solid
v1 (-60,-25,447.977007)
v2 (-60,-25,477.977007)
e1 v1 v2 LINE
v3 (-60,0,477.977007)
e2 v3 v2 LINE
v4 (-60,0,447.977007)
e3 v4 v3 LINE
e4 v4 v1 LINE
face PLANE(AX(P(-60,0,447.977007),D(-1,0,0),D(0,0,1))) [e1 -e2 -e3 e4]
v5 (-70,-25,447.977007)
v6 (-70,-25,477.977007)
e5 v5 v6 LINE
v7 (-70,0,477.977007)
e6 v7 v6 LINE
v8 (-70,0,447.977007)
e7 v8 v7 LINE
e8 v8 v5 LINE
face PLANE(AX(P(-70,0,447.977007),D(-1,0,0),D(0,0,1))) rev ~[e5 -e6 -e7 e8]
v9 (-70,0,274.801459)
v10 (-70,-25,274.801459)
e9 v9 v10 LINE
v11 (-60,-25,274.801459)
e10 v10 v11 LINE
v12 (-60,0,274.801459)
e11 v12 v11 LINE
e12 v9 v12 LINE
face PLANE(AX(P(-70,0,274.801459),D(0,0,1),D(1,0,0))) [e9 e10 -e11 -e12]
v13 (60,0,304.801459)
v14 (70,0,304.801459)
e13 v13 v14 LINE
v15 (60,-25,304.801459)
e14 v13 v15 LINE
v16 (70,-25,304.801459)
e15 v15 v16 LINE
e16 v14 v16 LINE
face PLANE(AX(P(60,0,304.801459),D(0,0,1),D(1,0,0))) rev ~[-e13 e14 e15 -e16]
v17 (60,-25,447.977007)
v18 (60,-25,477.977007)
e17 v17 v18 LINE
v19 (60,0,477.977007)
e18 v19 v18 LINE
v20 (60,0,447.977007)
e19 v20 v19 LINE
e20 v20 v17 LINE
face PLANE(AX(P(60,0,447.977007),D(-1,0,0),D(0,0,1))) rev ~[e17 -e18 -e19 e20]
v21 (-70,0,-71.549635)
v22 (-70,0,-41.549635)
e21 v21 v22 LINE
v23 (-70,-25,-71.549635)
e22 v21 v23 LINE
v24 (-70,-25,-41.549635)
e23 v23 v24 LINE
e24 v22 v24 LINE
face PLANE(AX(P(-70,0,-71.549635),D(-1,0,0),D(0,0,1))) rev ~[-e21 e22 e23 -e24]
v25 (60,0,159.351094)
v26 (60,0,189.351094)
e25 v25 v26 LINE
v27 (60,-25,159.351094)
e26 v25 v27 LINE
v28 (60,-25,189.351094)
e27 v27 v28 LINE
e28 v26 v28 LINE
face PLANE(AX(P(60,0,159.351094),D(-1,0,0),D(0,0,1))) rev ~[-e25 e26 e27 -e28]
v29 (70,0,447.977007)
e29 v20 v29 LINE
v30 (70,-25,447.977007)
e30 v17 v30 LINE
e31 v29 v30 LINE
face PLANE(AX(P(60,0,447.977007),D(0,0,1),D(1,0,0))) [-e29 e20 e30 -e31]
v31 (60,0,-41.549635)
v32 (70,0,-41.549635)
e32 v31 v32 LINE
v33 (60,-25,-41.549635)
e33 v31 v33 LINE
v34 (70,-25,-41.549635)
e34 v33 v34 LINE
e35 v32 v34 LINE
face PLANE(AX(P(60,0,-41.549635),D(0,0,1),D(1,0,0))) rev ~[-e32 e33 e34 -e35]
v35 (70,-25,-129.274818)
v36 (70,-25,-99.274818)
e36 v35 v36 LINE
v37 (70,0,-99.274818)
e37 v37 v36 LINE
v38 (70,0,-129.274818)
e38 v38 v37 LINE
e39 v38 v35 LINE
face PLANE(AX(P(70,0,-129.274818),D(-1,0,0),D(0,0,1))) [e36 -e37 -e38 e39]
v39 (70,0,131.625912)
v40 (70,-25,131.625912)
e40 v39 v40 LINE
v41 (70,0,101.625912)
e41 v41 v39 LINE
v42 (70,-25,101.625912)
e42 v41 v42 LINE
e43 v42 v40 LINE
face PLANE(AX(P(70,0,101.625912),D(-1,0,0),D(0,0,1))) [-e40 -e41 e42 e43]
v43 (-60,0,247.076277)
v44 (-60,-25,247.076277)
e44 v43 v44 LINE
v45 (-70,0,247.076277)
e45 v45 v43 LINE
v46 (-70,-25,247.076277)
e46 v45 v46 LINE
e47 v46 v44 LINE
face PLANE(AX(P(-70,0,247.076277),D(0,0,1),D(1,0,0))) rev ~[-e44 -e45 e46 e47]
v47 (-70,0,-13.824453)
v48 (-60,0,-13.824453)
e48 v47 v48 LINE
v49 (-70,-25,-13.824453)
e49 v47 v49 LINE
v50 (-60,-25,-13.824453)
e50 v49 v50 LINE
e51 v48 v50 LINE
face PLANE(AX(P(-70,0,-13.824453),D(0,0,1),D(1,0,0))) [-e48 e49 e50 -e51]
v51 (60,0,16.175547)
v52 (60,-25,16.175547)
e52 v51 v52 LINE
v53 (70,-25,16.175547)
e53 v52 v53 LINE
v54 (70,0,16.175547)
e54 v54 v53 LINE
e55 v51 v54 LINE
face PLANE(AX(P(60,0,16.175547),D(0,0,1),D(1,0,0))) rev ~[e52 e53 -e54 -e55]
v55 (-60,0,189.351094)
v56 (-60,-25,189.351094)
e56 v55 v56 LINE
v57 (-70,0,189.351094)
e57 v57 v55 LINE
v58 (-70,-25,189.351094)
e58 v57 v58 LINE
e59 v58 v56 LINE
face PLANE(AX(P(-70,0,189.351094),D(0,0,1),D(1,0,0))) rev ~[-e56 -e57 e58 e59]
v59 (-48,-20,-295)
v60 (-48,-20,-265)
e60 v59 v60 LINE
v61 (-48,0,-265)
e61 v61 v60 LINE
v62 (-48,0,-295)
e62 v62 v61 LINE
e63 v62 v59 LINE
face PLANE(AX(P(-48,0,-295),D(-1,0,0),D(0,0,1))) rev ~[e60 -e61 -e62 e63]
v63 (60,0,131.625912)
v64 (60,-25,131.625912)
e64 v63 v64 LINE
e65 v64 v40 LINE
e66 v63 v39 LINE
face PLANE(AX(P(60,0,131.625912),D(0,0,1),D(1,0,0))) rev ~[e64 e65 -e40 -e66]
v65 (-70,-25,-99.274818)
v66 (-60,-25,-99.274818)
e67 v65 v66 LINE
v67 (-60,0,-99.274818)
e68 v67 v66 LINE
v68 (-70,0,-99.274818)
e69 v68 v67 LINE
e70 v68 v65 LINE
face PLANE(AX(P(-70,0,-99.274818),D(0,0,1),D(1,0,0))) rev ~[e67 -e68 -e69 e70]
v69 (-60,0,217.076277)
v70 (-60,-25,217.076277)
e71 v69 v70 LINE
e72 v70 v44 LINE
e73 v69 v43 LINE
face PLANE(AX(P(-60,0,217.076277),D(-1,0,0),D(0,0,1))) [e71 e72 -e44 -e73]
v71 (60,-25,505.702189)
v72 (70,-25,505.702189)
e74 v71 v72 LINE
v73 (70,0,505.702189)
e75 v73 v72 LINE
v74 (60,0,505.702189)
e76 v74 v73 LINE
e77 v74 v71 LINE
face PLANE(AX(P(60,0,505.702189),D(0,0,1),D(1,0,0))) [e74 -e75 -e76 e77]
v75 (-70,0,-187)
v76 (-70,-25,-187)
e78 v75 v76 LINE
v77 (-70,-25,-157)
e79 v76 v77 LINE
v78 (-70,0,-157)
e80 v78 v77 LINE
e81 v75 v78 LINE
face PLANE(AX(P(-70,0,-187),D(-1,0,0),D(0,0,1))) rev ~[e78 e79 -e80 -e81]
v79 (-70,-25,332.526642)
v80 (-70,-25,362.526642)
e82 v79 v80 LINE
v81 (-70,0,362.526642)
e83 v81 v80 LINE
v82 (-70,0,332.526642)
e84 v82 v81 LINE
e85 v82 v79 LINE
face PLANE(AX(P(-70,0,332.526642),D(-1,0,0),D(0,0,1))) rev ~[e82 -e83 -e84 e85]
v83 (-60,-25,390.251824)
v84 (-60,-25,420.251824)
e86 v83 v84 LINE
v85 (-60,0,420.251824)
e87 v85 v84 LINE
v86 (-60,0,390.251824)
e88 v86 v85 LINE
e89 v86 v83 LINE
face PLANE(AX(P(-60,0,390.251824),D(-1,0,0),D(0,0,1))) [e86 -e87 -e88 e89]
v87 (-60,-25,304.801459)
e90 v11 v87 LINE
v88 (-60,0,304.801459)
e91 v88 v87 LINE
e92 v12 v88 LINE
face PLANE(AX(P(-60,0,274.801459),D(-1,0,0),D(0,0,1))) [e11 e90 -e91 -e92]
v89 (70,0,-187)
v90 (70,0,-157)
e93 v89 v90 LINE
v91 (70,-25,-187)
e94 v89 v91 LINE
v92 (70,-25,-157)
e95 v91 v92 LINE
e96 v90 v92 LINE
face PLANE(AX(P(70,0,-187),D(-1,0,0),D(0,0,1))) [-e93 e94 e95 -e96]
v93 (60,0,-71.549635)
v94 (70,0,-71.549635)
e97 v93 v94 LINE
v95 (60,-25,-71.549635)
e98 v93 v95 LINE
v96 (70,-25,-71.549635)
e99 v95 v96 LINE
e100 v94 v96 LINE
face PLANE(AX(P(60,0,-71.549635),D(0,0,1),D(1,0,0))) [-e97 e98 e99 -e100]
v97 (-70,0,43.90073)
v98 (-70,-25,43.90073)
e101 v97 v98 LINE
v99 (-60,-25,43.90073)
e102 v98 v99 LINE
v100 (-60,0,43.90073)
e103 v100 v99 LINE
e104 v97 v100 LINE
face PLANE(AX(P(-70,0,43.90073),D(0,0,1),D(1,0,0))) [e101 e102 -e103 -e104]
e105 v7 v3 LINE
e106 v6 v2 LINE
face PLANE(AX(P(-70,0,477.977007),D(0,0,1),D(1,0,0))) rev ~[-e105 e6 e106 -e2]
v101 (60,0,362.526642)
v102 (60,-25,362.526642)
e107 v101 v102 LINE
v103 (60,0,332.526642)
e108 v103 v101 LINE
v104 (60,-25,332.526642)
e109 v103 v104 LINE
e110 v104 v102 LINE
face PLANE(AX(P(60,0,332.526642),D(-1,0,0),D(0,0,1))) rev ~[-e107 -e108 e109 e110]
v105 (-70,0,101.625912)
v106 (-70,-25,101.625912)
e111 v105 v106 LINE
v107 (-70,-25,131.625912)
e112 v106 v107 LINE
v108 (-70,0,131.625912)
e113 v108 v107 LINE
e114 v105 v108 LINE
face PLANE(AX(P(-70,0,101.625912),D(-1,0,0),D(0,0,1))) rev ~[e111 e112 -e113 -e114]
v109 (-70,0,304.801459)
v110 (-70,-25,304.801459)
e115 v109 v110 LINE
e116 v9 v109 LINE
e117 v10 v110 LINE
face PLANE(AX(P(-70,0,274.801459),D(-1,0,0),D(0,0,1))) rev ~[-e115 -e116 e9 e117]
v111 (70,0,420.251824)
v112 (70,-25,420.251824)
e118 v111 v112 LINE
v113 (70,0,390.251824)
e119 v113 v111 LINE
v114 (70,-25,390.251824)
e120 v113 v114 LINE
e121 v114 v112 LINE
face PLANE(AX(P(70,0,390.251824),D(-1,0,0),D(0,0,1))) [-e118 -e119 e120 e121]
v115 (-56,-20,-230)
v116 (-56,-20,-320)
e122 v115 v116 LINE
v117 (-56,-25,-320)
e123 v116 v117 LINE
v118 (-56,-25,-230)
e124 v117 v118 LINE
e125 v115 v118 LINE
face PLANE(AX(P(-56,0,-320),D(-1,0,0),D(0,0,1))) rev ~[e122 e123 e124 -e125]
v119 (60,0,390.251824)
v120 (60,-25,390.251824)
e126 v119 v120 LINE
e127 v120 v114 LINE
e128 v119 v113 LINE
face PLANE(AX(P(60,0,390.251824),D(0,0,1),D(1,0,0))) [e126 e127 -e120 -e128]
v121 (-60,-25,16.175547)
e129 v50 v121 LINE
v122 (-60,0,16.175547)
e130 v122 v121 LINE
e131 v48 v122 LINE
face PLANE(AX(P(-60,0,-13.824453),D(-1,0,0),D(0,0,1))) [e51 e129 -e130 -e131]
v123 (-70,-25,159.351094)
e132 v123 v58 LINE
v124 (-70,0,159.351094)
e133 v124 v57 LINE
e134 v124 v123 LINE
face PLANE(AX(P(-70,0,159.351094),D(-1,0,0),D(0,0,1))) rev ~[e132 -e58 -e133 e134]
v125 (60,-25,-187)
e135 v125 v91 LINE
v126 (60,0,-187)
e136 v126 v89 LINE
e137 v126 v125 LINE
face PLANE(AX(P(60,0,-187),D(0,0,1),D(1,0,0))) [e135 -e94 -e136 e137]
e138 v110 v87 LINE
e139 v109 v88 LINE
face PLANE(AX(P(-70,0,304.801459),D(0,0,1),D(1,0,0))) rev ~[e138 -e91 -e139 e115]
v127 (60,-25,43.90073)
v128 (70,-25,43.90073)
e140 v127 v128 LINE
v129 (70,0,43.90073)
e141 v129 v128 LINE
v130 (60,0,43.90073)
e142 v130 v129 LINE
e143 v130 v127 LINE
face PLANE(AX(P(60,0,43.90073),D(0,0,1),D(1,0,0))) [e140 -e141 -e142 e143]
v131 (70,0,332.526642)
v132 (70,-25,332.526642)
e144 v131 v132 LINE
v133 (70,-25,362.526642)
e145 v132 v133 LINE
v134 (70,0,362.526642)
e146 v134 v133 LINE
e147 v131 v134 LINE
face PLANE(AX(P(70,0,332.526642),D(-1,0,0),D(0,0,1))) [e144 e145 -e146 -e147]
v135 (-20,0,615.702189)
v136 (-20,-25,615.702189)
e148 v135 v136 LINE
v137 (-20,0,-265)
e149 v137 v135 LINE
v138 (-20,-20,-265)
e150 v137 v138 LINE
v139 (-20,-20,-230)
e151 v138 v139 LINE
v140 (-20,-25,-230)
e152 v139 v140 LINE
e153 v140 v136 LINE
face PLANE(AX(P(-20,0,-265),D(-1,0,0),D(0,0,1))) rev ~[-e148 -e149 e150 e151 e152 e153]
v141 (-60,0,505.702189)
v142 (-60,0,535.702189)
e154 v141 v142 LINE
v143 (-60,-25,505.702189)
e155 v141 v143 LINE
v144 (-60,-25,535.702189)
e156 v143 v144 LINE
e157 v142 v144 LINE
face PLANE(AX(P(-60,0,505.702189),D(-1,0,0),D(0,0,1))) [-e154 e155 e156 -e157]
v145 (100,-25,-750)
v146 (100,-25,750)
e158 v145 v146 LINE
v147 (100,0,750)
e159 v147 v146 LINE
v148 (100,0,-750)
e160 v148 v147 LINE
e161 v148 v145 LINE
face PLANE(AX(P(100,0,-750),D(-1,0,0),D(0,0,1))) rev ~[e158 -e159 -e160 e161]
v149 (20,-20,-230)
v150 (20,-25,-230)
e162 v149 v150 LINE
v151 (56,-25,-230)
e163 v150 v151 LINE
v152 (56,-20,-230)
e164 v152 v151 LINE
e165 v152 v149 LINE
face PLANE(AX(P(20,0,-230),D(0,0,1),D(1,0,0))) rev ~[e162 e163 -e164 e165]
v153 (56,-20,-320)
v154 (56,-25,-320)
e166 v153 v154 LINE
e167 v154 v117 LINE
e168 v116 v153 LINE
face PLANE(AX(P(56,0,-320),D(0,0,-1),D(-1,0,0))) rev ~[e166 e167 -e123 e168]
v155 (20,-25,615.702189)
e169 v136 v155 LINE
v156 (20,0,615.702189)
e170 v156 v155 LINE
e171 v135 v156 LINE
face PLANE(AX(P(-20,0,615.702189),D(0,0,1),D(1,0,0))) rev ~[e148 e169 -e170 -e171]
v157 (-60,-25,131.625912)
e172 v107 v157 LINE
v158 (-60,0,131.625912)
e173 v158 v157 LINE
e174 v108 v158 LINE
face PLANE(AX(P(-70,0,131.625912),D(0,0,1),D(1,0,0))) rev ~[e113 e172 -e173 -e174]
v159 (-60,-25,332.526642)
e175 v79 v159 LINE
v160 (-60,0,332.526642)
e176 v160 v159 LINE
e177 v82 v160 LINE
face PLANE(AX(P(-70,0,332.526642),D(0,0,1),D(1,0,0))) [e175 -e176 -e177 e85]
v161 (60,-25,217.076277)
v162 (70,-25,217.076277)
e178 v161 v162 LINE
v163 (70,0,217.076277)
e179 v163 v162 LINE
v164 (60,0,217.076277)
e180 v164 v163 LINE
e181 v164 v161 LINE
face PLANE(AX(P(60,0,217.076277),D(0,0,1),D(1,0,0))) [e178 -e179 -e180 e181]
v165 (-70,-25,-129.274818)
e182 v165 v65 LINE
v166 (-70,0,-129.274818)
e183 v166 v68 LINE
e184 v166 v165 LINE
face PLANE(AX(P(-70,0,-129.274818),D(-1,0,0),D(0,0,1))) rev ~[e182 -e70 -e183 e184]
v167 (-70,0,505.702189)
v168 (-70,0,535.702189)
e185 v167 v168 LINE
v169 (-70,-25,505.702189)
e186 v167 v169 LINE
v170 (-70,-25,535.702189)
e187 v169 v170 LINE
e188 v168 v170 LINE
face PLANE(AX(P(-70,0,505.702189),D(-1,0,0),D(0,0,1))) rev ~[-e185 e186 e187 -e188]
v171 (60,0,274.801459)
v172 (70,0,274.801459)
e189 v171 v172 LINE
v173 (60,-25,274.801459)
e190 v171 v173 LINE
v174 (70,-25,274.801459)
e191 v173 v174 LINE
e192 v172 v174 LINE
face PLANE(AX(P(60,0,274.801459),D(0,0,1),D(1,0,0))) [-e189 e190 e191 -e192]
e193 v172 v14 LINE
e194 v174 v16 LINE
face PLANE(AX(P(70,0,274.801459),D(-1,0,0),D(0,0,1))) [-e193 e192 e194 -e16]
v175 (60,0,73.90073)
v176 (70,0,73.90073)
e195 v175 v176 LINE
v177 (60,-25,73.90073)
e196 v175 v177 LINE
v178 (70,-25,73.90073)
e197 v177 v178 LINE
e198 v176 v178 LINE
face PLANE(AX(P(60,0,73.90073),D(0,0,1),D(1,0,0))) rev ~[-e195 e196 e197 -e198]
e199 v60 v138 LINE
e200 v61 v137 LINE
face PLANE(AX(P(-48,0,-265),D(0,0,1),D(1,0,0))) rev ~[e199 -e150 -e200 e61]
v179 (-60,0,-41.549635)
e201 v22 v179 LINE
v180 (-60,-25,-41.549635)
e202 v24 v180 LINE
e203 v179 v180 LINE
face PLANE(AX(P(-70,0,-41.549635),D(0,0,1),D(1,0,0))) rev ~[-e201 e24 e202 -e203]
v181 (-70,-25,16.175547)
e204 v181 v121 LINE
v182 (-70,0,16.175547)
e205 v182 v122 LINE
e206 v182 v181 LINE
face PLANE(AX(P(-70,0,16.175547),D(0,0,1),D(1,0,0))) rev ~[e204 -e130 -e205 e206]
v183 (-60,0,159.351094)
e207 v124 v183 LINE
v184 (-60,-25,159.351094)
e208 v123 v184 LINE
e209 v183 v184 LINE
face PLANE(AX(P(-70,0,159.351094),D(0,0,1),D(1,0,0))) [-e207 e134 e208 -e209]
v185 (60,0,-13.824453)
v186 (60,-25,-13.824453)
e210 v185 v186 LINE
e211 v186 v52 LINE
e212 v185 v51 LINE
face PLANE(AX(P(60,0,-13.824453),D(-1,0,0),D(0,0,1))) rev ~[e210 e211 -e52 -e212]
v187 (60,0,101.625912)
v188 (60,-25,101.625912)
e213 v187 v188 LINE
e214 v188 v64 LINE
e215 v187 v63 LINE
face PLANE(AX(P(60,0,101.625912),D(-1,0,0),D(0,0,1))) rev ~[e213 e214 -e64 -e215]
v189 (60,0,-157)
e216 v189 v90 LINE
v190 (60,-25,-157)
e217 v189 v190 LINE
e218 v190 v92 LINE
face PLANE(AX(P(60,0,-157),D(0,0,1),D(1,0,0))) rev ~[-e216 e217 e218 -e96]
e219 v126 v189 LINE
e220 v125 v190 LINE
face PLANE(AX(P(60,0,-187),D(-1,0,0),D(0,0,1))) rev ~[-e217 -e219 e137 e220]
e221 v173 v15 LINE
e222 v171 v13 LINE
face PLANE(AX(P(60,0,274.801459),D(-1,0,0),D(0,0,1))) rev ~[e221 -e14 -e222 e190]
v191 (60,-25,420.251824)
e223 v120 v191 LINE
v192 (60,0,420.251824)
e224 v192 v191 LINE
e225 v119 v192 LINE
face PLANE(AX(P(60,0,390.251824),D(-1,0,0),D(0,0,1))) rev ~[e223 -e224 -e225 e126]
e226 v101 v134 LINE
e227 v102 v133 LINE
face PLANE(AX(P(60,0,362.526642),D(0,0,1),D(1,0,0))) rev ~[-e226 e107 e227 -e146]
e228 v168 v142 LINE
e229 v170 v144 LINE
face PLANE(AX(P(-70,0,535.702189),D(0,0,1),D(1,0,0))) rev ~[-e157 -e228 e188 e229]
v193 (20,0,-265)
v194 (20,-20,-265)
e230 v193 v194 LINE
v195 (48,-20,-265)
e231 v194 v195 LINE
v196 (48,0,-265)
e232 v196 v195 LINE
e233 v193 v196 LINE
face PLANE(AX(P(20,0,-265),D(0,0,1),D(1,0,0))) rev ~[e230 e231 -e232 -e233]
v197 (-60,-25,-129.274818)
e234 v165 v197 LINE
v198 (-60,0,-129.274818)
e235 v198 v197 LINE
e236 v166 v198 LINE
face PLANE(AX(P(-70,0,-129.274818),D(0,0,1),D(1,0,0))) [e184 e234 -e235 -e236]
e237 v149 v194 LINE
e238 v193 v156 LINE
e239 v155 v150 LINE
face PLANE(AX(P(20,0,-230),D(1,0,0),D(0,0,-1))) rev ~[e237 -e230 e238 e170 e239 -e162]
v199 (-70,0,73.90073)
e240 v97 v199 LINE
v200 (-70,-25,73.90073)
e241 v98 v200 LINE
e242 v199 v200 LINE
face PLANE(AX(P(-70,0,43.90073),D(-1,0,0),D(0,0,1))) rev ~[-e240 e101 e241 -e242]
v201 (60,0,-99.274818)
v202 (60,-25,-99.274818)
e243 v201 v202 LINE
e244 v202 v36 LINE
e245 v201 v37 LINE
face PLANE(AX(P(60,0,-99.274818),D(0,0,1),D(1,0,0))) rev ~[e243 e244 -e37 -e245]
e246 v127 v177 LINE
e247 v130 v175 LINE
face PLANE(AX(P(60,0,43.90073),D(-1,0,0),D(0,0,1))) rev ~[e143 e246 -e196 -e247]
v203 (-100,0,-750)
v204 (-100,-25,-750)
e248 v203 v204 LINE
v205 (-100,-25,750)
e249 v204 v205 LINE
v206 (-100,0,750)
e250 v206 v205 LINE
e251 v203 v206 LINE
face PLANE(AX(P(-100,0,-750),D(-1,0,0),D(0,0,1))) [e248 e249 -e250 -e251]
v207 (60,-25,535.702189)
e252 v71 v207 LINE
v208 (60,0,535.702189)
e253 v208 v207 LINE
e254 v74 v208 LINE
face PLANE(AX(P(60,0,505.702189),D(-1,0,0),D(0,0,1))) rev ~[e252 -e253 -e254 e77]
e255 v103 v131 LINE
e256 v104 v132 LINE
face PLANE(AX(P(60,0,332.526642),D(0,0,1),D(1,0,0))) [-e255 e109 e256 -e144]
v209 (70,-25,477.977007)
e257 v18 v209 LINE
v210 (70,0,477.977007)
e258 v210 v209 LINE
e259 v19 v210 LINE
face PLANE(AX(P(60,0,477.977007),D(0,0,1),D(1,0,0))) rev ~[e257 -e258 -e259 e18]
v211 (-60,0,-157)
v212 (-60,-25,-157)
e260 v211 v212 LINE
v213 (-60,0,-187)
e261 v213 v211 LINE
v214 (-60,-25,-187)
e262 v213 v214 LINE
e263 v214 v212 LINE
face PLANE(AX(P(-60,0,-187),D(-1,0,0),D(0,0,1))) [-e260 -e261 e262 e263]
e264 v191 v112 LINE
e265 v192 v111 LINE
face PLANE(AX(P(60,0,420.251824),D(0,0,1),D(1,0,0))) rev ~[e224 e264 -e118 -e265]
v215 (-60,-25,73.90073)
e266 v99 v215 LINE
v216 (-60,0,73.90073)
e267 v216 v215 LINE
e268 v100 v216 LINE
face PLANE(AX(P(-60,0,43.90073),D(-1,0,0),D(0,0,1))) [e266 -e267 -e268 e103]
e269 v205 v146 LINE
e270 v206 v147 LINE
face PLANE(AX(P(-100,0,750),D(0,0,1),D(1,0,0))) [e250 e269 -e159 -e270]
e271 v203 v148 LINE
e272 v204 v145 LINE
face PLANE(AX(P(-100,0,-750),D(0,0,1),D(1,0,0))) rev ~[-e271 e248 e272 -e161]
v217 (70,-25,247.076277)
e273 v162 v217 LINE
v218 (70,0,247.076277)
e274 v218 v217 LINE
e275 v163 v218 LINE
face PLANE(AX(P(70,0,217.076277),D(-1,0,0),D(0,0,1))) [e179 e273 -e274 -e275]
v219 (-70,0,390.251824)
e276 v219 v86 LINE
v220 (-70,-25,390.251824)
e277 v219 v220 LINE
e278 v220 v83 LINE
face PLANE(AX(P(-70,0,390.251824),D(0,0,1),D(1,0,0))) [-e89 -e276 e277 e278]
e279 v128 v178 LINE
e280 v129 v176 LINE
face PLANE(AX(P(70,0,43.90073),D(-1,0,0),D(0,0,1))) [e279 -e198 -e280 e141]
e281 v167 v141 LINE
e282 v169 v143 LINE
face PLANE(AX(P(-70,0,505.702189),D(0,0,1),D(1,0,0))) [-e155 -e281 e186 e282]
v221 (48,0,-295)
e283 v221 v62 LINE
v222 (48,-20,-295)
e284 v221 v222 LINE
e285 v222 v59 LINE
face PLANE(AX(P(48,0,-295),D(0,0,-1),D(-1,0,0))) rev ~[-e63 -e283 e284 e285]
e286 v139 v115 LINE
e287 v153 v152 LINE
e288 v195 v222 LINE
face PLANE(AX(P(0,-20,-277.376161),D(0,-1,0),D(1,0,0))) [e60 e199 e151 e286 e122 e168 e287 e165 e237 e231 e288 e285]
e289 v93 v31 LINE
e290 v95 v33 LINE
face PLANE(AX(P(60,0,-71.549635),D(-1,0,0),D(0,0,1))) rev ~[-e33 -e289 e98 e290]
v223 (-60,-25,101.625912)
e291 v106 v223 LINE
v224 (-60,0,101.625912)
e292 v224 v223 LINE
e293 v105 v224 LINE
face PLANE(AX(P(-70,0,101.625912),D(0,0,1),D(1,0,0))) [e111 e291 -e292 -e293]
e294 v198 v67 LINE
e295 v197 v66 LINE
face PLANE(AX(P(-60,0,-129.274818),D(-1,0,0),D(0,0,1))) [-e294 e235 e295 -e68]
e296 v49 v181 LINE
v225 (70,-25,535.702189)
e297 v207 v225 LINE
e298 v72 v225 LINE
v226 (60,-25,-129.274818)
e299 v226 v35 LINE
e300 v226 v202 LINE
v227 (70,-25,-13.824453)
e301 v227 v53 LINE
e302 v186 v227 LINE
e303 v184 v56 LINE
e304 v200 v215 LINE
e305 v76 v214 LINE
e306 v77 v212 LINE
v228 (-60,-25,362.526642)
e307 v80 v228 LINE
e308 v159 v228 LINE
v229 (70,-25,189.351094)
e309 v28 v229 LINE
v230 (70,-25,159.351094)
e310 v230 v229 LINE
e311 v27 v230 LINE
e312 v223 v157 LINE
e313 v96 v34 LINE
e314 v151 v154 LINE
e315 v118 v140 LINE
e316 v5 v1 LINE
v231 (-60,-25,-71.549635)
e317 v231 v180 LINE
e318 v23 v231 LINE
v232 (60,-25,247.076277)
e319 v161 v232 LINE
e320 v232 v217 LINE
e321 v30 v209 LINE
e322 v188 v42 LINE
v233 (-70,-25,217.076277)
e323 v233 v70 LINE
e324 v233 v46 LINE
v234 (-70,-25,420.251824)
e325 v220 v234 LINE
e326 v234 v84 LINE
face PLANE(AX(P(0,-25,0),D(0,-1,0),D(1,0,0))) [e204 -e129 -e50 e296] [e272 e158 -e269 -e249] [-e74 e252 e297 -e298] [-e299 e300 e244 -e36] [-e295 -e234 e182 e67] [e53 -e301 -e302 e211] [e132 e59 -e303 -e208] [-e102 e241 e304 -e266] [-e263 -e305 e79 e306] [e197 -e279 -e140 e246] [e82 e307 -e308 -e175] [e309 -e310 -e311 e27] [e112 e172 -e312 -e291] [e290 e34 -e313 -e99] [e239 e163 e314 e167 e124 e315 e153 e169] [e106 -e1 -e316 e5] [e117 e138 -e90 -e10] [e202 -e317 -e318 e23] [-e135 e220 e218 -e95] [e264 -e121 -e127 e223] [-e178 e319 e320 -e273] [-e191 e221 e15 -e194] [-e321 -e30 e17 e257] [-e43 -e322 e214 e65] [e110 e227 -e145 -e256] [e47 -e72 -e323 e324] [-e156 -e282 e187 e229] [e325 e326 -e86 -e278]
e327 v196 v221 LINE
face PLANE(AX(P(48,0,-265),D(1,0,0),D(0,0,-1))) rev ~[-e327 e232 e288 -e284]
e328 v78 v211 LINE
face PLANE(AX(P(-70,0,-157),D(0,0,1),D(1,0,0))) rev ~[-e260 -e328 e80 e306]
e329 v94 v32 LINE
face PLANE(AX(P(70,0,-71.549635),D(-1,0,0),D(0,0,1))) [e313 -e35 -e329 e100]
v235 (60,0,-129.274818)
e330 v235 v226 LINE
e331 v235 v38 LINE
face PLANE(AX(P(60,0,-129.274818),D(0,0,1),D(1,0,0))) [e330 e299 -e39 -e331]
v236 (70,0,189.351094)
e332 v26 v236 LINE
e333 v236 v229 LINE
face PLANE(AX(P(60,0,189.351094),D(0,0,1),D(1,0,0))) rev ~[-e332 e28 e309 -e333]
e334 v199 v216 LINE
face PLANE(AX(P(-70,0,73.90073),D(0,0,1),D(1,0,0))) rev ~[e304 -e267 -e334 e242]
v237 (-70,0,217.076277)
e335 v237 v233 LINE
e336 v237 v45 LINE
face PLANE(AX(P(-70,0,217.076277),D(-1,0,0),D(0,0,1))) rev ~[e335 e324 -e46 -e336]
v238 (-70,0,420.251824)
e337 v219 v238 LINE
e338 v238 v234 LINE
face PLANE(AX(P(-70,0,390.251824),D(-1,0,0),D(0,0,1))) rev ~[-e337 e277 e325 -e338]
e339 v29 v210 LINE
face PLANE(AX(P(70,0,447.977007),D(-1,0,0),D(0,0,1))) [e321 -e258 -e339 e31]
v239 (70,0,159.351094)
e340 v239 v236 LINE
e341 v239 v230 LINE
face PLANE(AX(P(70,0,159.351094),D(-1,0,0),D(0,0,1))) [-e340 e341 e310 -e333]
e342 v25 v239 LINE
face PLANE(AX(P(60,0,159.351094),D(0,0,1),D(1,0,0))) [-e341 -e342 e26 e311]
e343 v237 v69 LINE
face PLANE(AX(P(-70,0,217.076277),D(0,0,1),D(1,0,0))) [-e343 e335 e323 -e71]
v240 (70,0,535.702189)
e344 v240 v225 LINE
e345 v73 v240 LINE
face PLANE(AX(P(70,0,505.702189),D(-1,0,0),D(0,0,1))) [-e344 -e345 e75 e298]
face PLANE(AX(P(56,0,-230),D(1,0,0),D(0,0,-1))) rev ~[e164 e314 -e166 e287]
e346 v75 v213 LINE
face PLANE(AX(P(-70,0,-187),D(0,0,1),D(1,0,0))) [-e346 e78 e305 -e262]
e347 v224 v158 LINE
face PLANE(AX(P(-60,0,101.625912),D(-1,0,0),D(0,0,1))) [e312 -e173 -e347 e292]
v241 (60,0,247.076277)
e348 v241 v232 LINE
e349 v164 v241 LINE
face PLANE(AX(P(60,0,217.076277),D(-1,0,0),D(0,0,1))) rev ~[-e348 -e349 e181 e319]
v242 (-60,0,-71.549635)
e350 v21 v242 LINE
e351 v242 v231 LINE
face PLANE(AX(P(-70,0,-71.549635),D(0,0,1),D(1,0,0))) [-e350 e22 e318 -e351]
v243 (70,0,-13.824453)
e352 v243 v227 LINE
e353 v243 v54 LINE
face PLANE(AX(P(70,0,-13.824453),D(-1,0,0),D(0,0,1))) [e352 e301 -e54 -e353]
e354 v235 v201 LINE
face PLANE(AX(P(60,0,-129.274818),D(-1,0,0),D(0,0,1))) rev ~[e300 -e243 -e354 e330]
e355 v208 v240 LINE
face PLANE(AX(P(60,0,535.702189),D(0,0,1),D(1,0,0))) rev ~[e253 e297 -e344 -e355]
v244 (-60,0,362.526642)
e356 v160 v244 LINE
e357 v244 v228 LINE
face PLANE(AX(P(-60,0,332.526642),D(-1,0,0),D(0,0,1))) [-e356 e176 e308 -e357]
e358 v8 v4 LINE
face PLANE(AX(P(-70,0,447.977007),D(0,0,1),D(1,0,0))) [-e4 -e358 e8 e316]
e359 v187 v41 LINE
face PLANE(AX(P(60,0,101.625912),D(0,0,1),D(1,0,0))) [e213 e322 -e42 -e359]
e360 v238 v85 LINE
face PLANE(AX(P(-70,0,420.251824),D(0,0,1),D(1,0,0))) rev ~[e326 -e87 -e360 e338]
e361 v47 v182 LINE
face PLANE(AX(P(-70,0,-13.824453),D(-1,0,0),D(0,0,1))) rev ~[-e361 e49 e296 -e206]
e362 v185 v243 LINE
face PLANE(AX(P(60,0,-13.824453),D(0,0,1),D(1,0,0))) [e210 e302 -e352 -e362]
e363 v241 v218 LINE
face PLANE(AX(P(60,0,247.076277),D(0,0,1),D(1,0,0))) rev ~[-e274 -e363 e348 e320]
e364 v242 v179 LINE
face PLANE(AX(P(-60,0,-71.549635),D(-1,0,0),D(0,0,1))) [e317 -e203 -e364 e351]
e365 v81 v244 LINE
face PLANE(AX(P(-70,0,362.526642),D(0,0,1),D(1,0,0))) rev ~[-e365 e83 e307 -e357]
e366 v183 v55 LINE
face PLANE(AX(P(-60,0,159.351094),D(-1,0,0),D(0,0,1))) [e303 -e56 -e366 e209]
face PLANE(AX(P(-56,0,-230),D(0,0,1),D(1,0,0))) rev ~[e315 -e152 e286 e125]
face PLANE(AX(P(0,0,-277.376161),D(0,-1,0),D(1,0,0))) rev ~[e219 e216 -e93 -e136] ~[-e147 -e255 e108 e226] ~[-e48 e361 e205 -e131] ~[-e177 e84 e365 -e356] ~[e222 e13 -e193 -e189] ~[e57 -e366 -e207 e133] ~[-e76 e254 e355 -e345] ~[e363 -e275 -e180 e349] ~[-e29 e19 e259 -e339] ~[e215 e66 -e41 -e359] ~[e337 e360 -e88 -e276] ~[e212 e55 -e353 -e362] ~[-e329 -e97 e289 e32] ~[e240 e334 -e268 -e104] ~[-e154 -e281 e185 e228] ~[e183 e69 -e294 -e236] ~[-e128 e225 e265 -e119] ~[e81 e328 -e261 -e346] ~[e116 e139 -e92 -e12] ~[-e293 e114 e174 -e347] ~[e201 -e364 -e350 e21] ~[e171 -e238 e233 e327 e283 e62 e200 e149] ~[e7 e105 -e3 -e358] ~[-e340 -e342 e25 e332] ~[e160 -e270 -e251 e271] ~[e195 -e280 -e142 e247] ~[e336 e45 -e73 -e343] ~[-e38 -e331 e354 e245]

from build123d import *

# Parameters (mm, degrees)
F0_W     = 200
F0_H     = 1500
F0_W_2   = 10
F0_H_2   = 30
F1_DEPTH = 25
F2_DEPTH = 20


with BuildPart() as f1:
    # F0 (on Front) → F1 (new body)
    with BuildSketch(Plane.XZ):
        Rectangle(F0_W, F0_H)
        with Locations((-65, -172)):
            Rectangle(F0_W_2, F0_H_2, mode=Mode.SUBTRACT)
        with Locations((-65, -114.274818)):
            Rectangle(F0_W_2, F0_H_2, mode=Mode.SUBTRACT)
        with Locations((-65, -56.549635)):
            Rectangle(F0_W_2, F0_H_2, mode=Mode.SUBTRACT)
        with Locations((65, -172)):
            Rectangle(F0_W_2, F0_H_2, mode=Mode.SUBTRACT)
        with Locations((65, -114.274818)):
            Rectangle(F0_W_2, F0_H_2, mode=Mode.SUBTRACT)
        with Locations((65, -56.549635)):
            Rectangle(F0_W_2, F0_H_2, mode=Mode.SUBTRACT)
        with Locations((-65, 1.175547)):
            Rectangle(F0_W_2, F0_H_2, mode=Mode.SUBTRACT)
        with Locations((-65, 58.90073)):
            Rectangle(F0_W_2, F0_H_2, mode=Mode.SUBTRACT)
        with Locations((-65, 116.625912)):
            Rectangle(F0_W_2, F0_H_2, mode=Mode.SUBTRACT)
        with Locations((-65, 174.351094)):
            Rectangle(F0_W_2, F0_H_2, mode=Mode.SUBTRACT)
        with Locations((-65, 232.076277)):
            Rectangle(F0_W_2, F0_H_2, mode=Mode.SUBTRACT)
        with Locations((-65, 289.801459)):
            Rectangle(F0_W_2, F0_H_2, mode=Mode.SUBTRACT)
        with Locations((-65, 347.526642)):
            Rectangle(F0_W_2, F0_H_2, mode=Mode.SUBTRACT)
        with Locations((-65, 405.251824)):
            Rectangle(F0_W_2, F0_H_2, mode=Mode.SUBTRACT)
        with Locations((-65, 462.977007)):
            Rectangle(F0_W_2, F0_H_2, mode=Mode.SUBTRACT)
        with Locations((-65, 520.702189)):
            Rectangle(F0_W_2, F0_H_2, mode=Mode.SUBTRACT)
        Polygon((-56, -230), (-20, -230), (-20, 615.702189), (20, 615.702189), (20, -230), (56, -230), (56, -320), (-56, -320), align=None, mode=Mode.SUBTRACT)
        with Locations((65, 1.175547)):
            Rectangle(F0_W_2, F0_H_2, mode=Mode.SUBTRACT)
        with Locations((65, 58.90073)):
            Rectangle(F0_W_2, F0_H_2, mode=Mode.SUBTRACT)
        with Locations((65, 116.625912)):
            Rectangle(F0_W_2, F0_H_2, mode=Mode.SUBTRACT)
        with Locations((65, 174.351094)):
            Rectangle(F0_W_2, F0_H_2, mode=Mode.SUBTRACT)
        with Locations((65, 232.076277)):
            Rectangle(F0_W_2, F0_H_2, mode=Mode.SUBTRACT)
        with Locations((65, 289.801459)):
            Rectangle(F0_W_2, F0_H_2, mode=Mode.SUBTRACT)
        with Locations((65, 347.526642)):
            Rectangle(F0_W_2, F0_H_2, mode=Mode.SUBTRACT)
        with Locations((65, 405.251824)):
            Rectangle(F0_W_2, F0_H_2, mode=Mode.SUBTRACT)
        with Locations((65, 462.977007)):
            Rectangle(F0_W_2, F0_H_2, mode=Mode.SUBTRACT)
        with Locations((65, 520.702189)):
            Rectangle(F0_W_2, F0_H_2, mode=Mode.SUBTRACT)
    extrude(amount=F1_DEPTH)

    # F0 (on Front) → F2 (join)
    with BuildSketch(Plane.XZ):
        Polygon((-20, -265), (-20, -230), (-56, -230), (-56, -320), (56, -320), (56, -230), (20, -230), (20, -265), (48, -265), (48, -295), (-48, -295), (-48, -265), align=None)
    extrude(amount=F2_DEPTH)


solid = f1.part
